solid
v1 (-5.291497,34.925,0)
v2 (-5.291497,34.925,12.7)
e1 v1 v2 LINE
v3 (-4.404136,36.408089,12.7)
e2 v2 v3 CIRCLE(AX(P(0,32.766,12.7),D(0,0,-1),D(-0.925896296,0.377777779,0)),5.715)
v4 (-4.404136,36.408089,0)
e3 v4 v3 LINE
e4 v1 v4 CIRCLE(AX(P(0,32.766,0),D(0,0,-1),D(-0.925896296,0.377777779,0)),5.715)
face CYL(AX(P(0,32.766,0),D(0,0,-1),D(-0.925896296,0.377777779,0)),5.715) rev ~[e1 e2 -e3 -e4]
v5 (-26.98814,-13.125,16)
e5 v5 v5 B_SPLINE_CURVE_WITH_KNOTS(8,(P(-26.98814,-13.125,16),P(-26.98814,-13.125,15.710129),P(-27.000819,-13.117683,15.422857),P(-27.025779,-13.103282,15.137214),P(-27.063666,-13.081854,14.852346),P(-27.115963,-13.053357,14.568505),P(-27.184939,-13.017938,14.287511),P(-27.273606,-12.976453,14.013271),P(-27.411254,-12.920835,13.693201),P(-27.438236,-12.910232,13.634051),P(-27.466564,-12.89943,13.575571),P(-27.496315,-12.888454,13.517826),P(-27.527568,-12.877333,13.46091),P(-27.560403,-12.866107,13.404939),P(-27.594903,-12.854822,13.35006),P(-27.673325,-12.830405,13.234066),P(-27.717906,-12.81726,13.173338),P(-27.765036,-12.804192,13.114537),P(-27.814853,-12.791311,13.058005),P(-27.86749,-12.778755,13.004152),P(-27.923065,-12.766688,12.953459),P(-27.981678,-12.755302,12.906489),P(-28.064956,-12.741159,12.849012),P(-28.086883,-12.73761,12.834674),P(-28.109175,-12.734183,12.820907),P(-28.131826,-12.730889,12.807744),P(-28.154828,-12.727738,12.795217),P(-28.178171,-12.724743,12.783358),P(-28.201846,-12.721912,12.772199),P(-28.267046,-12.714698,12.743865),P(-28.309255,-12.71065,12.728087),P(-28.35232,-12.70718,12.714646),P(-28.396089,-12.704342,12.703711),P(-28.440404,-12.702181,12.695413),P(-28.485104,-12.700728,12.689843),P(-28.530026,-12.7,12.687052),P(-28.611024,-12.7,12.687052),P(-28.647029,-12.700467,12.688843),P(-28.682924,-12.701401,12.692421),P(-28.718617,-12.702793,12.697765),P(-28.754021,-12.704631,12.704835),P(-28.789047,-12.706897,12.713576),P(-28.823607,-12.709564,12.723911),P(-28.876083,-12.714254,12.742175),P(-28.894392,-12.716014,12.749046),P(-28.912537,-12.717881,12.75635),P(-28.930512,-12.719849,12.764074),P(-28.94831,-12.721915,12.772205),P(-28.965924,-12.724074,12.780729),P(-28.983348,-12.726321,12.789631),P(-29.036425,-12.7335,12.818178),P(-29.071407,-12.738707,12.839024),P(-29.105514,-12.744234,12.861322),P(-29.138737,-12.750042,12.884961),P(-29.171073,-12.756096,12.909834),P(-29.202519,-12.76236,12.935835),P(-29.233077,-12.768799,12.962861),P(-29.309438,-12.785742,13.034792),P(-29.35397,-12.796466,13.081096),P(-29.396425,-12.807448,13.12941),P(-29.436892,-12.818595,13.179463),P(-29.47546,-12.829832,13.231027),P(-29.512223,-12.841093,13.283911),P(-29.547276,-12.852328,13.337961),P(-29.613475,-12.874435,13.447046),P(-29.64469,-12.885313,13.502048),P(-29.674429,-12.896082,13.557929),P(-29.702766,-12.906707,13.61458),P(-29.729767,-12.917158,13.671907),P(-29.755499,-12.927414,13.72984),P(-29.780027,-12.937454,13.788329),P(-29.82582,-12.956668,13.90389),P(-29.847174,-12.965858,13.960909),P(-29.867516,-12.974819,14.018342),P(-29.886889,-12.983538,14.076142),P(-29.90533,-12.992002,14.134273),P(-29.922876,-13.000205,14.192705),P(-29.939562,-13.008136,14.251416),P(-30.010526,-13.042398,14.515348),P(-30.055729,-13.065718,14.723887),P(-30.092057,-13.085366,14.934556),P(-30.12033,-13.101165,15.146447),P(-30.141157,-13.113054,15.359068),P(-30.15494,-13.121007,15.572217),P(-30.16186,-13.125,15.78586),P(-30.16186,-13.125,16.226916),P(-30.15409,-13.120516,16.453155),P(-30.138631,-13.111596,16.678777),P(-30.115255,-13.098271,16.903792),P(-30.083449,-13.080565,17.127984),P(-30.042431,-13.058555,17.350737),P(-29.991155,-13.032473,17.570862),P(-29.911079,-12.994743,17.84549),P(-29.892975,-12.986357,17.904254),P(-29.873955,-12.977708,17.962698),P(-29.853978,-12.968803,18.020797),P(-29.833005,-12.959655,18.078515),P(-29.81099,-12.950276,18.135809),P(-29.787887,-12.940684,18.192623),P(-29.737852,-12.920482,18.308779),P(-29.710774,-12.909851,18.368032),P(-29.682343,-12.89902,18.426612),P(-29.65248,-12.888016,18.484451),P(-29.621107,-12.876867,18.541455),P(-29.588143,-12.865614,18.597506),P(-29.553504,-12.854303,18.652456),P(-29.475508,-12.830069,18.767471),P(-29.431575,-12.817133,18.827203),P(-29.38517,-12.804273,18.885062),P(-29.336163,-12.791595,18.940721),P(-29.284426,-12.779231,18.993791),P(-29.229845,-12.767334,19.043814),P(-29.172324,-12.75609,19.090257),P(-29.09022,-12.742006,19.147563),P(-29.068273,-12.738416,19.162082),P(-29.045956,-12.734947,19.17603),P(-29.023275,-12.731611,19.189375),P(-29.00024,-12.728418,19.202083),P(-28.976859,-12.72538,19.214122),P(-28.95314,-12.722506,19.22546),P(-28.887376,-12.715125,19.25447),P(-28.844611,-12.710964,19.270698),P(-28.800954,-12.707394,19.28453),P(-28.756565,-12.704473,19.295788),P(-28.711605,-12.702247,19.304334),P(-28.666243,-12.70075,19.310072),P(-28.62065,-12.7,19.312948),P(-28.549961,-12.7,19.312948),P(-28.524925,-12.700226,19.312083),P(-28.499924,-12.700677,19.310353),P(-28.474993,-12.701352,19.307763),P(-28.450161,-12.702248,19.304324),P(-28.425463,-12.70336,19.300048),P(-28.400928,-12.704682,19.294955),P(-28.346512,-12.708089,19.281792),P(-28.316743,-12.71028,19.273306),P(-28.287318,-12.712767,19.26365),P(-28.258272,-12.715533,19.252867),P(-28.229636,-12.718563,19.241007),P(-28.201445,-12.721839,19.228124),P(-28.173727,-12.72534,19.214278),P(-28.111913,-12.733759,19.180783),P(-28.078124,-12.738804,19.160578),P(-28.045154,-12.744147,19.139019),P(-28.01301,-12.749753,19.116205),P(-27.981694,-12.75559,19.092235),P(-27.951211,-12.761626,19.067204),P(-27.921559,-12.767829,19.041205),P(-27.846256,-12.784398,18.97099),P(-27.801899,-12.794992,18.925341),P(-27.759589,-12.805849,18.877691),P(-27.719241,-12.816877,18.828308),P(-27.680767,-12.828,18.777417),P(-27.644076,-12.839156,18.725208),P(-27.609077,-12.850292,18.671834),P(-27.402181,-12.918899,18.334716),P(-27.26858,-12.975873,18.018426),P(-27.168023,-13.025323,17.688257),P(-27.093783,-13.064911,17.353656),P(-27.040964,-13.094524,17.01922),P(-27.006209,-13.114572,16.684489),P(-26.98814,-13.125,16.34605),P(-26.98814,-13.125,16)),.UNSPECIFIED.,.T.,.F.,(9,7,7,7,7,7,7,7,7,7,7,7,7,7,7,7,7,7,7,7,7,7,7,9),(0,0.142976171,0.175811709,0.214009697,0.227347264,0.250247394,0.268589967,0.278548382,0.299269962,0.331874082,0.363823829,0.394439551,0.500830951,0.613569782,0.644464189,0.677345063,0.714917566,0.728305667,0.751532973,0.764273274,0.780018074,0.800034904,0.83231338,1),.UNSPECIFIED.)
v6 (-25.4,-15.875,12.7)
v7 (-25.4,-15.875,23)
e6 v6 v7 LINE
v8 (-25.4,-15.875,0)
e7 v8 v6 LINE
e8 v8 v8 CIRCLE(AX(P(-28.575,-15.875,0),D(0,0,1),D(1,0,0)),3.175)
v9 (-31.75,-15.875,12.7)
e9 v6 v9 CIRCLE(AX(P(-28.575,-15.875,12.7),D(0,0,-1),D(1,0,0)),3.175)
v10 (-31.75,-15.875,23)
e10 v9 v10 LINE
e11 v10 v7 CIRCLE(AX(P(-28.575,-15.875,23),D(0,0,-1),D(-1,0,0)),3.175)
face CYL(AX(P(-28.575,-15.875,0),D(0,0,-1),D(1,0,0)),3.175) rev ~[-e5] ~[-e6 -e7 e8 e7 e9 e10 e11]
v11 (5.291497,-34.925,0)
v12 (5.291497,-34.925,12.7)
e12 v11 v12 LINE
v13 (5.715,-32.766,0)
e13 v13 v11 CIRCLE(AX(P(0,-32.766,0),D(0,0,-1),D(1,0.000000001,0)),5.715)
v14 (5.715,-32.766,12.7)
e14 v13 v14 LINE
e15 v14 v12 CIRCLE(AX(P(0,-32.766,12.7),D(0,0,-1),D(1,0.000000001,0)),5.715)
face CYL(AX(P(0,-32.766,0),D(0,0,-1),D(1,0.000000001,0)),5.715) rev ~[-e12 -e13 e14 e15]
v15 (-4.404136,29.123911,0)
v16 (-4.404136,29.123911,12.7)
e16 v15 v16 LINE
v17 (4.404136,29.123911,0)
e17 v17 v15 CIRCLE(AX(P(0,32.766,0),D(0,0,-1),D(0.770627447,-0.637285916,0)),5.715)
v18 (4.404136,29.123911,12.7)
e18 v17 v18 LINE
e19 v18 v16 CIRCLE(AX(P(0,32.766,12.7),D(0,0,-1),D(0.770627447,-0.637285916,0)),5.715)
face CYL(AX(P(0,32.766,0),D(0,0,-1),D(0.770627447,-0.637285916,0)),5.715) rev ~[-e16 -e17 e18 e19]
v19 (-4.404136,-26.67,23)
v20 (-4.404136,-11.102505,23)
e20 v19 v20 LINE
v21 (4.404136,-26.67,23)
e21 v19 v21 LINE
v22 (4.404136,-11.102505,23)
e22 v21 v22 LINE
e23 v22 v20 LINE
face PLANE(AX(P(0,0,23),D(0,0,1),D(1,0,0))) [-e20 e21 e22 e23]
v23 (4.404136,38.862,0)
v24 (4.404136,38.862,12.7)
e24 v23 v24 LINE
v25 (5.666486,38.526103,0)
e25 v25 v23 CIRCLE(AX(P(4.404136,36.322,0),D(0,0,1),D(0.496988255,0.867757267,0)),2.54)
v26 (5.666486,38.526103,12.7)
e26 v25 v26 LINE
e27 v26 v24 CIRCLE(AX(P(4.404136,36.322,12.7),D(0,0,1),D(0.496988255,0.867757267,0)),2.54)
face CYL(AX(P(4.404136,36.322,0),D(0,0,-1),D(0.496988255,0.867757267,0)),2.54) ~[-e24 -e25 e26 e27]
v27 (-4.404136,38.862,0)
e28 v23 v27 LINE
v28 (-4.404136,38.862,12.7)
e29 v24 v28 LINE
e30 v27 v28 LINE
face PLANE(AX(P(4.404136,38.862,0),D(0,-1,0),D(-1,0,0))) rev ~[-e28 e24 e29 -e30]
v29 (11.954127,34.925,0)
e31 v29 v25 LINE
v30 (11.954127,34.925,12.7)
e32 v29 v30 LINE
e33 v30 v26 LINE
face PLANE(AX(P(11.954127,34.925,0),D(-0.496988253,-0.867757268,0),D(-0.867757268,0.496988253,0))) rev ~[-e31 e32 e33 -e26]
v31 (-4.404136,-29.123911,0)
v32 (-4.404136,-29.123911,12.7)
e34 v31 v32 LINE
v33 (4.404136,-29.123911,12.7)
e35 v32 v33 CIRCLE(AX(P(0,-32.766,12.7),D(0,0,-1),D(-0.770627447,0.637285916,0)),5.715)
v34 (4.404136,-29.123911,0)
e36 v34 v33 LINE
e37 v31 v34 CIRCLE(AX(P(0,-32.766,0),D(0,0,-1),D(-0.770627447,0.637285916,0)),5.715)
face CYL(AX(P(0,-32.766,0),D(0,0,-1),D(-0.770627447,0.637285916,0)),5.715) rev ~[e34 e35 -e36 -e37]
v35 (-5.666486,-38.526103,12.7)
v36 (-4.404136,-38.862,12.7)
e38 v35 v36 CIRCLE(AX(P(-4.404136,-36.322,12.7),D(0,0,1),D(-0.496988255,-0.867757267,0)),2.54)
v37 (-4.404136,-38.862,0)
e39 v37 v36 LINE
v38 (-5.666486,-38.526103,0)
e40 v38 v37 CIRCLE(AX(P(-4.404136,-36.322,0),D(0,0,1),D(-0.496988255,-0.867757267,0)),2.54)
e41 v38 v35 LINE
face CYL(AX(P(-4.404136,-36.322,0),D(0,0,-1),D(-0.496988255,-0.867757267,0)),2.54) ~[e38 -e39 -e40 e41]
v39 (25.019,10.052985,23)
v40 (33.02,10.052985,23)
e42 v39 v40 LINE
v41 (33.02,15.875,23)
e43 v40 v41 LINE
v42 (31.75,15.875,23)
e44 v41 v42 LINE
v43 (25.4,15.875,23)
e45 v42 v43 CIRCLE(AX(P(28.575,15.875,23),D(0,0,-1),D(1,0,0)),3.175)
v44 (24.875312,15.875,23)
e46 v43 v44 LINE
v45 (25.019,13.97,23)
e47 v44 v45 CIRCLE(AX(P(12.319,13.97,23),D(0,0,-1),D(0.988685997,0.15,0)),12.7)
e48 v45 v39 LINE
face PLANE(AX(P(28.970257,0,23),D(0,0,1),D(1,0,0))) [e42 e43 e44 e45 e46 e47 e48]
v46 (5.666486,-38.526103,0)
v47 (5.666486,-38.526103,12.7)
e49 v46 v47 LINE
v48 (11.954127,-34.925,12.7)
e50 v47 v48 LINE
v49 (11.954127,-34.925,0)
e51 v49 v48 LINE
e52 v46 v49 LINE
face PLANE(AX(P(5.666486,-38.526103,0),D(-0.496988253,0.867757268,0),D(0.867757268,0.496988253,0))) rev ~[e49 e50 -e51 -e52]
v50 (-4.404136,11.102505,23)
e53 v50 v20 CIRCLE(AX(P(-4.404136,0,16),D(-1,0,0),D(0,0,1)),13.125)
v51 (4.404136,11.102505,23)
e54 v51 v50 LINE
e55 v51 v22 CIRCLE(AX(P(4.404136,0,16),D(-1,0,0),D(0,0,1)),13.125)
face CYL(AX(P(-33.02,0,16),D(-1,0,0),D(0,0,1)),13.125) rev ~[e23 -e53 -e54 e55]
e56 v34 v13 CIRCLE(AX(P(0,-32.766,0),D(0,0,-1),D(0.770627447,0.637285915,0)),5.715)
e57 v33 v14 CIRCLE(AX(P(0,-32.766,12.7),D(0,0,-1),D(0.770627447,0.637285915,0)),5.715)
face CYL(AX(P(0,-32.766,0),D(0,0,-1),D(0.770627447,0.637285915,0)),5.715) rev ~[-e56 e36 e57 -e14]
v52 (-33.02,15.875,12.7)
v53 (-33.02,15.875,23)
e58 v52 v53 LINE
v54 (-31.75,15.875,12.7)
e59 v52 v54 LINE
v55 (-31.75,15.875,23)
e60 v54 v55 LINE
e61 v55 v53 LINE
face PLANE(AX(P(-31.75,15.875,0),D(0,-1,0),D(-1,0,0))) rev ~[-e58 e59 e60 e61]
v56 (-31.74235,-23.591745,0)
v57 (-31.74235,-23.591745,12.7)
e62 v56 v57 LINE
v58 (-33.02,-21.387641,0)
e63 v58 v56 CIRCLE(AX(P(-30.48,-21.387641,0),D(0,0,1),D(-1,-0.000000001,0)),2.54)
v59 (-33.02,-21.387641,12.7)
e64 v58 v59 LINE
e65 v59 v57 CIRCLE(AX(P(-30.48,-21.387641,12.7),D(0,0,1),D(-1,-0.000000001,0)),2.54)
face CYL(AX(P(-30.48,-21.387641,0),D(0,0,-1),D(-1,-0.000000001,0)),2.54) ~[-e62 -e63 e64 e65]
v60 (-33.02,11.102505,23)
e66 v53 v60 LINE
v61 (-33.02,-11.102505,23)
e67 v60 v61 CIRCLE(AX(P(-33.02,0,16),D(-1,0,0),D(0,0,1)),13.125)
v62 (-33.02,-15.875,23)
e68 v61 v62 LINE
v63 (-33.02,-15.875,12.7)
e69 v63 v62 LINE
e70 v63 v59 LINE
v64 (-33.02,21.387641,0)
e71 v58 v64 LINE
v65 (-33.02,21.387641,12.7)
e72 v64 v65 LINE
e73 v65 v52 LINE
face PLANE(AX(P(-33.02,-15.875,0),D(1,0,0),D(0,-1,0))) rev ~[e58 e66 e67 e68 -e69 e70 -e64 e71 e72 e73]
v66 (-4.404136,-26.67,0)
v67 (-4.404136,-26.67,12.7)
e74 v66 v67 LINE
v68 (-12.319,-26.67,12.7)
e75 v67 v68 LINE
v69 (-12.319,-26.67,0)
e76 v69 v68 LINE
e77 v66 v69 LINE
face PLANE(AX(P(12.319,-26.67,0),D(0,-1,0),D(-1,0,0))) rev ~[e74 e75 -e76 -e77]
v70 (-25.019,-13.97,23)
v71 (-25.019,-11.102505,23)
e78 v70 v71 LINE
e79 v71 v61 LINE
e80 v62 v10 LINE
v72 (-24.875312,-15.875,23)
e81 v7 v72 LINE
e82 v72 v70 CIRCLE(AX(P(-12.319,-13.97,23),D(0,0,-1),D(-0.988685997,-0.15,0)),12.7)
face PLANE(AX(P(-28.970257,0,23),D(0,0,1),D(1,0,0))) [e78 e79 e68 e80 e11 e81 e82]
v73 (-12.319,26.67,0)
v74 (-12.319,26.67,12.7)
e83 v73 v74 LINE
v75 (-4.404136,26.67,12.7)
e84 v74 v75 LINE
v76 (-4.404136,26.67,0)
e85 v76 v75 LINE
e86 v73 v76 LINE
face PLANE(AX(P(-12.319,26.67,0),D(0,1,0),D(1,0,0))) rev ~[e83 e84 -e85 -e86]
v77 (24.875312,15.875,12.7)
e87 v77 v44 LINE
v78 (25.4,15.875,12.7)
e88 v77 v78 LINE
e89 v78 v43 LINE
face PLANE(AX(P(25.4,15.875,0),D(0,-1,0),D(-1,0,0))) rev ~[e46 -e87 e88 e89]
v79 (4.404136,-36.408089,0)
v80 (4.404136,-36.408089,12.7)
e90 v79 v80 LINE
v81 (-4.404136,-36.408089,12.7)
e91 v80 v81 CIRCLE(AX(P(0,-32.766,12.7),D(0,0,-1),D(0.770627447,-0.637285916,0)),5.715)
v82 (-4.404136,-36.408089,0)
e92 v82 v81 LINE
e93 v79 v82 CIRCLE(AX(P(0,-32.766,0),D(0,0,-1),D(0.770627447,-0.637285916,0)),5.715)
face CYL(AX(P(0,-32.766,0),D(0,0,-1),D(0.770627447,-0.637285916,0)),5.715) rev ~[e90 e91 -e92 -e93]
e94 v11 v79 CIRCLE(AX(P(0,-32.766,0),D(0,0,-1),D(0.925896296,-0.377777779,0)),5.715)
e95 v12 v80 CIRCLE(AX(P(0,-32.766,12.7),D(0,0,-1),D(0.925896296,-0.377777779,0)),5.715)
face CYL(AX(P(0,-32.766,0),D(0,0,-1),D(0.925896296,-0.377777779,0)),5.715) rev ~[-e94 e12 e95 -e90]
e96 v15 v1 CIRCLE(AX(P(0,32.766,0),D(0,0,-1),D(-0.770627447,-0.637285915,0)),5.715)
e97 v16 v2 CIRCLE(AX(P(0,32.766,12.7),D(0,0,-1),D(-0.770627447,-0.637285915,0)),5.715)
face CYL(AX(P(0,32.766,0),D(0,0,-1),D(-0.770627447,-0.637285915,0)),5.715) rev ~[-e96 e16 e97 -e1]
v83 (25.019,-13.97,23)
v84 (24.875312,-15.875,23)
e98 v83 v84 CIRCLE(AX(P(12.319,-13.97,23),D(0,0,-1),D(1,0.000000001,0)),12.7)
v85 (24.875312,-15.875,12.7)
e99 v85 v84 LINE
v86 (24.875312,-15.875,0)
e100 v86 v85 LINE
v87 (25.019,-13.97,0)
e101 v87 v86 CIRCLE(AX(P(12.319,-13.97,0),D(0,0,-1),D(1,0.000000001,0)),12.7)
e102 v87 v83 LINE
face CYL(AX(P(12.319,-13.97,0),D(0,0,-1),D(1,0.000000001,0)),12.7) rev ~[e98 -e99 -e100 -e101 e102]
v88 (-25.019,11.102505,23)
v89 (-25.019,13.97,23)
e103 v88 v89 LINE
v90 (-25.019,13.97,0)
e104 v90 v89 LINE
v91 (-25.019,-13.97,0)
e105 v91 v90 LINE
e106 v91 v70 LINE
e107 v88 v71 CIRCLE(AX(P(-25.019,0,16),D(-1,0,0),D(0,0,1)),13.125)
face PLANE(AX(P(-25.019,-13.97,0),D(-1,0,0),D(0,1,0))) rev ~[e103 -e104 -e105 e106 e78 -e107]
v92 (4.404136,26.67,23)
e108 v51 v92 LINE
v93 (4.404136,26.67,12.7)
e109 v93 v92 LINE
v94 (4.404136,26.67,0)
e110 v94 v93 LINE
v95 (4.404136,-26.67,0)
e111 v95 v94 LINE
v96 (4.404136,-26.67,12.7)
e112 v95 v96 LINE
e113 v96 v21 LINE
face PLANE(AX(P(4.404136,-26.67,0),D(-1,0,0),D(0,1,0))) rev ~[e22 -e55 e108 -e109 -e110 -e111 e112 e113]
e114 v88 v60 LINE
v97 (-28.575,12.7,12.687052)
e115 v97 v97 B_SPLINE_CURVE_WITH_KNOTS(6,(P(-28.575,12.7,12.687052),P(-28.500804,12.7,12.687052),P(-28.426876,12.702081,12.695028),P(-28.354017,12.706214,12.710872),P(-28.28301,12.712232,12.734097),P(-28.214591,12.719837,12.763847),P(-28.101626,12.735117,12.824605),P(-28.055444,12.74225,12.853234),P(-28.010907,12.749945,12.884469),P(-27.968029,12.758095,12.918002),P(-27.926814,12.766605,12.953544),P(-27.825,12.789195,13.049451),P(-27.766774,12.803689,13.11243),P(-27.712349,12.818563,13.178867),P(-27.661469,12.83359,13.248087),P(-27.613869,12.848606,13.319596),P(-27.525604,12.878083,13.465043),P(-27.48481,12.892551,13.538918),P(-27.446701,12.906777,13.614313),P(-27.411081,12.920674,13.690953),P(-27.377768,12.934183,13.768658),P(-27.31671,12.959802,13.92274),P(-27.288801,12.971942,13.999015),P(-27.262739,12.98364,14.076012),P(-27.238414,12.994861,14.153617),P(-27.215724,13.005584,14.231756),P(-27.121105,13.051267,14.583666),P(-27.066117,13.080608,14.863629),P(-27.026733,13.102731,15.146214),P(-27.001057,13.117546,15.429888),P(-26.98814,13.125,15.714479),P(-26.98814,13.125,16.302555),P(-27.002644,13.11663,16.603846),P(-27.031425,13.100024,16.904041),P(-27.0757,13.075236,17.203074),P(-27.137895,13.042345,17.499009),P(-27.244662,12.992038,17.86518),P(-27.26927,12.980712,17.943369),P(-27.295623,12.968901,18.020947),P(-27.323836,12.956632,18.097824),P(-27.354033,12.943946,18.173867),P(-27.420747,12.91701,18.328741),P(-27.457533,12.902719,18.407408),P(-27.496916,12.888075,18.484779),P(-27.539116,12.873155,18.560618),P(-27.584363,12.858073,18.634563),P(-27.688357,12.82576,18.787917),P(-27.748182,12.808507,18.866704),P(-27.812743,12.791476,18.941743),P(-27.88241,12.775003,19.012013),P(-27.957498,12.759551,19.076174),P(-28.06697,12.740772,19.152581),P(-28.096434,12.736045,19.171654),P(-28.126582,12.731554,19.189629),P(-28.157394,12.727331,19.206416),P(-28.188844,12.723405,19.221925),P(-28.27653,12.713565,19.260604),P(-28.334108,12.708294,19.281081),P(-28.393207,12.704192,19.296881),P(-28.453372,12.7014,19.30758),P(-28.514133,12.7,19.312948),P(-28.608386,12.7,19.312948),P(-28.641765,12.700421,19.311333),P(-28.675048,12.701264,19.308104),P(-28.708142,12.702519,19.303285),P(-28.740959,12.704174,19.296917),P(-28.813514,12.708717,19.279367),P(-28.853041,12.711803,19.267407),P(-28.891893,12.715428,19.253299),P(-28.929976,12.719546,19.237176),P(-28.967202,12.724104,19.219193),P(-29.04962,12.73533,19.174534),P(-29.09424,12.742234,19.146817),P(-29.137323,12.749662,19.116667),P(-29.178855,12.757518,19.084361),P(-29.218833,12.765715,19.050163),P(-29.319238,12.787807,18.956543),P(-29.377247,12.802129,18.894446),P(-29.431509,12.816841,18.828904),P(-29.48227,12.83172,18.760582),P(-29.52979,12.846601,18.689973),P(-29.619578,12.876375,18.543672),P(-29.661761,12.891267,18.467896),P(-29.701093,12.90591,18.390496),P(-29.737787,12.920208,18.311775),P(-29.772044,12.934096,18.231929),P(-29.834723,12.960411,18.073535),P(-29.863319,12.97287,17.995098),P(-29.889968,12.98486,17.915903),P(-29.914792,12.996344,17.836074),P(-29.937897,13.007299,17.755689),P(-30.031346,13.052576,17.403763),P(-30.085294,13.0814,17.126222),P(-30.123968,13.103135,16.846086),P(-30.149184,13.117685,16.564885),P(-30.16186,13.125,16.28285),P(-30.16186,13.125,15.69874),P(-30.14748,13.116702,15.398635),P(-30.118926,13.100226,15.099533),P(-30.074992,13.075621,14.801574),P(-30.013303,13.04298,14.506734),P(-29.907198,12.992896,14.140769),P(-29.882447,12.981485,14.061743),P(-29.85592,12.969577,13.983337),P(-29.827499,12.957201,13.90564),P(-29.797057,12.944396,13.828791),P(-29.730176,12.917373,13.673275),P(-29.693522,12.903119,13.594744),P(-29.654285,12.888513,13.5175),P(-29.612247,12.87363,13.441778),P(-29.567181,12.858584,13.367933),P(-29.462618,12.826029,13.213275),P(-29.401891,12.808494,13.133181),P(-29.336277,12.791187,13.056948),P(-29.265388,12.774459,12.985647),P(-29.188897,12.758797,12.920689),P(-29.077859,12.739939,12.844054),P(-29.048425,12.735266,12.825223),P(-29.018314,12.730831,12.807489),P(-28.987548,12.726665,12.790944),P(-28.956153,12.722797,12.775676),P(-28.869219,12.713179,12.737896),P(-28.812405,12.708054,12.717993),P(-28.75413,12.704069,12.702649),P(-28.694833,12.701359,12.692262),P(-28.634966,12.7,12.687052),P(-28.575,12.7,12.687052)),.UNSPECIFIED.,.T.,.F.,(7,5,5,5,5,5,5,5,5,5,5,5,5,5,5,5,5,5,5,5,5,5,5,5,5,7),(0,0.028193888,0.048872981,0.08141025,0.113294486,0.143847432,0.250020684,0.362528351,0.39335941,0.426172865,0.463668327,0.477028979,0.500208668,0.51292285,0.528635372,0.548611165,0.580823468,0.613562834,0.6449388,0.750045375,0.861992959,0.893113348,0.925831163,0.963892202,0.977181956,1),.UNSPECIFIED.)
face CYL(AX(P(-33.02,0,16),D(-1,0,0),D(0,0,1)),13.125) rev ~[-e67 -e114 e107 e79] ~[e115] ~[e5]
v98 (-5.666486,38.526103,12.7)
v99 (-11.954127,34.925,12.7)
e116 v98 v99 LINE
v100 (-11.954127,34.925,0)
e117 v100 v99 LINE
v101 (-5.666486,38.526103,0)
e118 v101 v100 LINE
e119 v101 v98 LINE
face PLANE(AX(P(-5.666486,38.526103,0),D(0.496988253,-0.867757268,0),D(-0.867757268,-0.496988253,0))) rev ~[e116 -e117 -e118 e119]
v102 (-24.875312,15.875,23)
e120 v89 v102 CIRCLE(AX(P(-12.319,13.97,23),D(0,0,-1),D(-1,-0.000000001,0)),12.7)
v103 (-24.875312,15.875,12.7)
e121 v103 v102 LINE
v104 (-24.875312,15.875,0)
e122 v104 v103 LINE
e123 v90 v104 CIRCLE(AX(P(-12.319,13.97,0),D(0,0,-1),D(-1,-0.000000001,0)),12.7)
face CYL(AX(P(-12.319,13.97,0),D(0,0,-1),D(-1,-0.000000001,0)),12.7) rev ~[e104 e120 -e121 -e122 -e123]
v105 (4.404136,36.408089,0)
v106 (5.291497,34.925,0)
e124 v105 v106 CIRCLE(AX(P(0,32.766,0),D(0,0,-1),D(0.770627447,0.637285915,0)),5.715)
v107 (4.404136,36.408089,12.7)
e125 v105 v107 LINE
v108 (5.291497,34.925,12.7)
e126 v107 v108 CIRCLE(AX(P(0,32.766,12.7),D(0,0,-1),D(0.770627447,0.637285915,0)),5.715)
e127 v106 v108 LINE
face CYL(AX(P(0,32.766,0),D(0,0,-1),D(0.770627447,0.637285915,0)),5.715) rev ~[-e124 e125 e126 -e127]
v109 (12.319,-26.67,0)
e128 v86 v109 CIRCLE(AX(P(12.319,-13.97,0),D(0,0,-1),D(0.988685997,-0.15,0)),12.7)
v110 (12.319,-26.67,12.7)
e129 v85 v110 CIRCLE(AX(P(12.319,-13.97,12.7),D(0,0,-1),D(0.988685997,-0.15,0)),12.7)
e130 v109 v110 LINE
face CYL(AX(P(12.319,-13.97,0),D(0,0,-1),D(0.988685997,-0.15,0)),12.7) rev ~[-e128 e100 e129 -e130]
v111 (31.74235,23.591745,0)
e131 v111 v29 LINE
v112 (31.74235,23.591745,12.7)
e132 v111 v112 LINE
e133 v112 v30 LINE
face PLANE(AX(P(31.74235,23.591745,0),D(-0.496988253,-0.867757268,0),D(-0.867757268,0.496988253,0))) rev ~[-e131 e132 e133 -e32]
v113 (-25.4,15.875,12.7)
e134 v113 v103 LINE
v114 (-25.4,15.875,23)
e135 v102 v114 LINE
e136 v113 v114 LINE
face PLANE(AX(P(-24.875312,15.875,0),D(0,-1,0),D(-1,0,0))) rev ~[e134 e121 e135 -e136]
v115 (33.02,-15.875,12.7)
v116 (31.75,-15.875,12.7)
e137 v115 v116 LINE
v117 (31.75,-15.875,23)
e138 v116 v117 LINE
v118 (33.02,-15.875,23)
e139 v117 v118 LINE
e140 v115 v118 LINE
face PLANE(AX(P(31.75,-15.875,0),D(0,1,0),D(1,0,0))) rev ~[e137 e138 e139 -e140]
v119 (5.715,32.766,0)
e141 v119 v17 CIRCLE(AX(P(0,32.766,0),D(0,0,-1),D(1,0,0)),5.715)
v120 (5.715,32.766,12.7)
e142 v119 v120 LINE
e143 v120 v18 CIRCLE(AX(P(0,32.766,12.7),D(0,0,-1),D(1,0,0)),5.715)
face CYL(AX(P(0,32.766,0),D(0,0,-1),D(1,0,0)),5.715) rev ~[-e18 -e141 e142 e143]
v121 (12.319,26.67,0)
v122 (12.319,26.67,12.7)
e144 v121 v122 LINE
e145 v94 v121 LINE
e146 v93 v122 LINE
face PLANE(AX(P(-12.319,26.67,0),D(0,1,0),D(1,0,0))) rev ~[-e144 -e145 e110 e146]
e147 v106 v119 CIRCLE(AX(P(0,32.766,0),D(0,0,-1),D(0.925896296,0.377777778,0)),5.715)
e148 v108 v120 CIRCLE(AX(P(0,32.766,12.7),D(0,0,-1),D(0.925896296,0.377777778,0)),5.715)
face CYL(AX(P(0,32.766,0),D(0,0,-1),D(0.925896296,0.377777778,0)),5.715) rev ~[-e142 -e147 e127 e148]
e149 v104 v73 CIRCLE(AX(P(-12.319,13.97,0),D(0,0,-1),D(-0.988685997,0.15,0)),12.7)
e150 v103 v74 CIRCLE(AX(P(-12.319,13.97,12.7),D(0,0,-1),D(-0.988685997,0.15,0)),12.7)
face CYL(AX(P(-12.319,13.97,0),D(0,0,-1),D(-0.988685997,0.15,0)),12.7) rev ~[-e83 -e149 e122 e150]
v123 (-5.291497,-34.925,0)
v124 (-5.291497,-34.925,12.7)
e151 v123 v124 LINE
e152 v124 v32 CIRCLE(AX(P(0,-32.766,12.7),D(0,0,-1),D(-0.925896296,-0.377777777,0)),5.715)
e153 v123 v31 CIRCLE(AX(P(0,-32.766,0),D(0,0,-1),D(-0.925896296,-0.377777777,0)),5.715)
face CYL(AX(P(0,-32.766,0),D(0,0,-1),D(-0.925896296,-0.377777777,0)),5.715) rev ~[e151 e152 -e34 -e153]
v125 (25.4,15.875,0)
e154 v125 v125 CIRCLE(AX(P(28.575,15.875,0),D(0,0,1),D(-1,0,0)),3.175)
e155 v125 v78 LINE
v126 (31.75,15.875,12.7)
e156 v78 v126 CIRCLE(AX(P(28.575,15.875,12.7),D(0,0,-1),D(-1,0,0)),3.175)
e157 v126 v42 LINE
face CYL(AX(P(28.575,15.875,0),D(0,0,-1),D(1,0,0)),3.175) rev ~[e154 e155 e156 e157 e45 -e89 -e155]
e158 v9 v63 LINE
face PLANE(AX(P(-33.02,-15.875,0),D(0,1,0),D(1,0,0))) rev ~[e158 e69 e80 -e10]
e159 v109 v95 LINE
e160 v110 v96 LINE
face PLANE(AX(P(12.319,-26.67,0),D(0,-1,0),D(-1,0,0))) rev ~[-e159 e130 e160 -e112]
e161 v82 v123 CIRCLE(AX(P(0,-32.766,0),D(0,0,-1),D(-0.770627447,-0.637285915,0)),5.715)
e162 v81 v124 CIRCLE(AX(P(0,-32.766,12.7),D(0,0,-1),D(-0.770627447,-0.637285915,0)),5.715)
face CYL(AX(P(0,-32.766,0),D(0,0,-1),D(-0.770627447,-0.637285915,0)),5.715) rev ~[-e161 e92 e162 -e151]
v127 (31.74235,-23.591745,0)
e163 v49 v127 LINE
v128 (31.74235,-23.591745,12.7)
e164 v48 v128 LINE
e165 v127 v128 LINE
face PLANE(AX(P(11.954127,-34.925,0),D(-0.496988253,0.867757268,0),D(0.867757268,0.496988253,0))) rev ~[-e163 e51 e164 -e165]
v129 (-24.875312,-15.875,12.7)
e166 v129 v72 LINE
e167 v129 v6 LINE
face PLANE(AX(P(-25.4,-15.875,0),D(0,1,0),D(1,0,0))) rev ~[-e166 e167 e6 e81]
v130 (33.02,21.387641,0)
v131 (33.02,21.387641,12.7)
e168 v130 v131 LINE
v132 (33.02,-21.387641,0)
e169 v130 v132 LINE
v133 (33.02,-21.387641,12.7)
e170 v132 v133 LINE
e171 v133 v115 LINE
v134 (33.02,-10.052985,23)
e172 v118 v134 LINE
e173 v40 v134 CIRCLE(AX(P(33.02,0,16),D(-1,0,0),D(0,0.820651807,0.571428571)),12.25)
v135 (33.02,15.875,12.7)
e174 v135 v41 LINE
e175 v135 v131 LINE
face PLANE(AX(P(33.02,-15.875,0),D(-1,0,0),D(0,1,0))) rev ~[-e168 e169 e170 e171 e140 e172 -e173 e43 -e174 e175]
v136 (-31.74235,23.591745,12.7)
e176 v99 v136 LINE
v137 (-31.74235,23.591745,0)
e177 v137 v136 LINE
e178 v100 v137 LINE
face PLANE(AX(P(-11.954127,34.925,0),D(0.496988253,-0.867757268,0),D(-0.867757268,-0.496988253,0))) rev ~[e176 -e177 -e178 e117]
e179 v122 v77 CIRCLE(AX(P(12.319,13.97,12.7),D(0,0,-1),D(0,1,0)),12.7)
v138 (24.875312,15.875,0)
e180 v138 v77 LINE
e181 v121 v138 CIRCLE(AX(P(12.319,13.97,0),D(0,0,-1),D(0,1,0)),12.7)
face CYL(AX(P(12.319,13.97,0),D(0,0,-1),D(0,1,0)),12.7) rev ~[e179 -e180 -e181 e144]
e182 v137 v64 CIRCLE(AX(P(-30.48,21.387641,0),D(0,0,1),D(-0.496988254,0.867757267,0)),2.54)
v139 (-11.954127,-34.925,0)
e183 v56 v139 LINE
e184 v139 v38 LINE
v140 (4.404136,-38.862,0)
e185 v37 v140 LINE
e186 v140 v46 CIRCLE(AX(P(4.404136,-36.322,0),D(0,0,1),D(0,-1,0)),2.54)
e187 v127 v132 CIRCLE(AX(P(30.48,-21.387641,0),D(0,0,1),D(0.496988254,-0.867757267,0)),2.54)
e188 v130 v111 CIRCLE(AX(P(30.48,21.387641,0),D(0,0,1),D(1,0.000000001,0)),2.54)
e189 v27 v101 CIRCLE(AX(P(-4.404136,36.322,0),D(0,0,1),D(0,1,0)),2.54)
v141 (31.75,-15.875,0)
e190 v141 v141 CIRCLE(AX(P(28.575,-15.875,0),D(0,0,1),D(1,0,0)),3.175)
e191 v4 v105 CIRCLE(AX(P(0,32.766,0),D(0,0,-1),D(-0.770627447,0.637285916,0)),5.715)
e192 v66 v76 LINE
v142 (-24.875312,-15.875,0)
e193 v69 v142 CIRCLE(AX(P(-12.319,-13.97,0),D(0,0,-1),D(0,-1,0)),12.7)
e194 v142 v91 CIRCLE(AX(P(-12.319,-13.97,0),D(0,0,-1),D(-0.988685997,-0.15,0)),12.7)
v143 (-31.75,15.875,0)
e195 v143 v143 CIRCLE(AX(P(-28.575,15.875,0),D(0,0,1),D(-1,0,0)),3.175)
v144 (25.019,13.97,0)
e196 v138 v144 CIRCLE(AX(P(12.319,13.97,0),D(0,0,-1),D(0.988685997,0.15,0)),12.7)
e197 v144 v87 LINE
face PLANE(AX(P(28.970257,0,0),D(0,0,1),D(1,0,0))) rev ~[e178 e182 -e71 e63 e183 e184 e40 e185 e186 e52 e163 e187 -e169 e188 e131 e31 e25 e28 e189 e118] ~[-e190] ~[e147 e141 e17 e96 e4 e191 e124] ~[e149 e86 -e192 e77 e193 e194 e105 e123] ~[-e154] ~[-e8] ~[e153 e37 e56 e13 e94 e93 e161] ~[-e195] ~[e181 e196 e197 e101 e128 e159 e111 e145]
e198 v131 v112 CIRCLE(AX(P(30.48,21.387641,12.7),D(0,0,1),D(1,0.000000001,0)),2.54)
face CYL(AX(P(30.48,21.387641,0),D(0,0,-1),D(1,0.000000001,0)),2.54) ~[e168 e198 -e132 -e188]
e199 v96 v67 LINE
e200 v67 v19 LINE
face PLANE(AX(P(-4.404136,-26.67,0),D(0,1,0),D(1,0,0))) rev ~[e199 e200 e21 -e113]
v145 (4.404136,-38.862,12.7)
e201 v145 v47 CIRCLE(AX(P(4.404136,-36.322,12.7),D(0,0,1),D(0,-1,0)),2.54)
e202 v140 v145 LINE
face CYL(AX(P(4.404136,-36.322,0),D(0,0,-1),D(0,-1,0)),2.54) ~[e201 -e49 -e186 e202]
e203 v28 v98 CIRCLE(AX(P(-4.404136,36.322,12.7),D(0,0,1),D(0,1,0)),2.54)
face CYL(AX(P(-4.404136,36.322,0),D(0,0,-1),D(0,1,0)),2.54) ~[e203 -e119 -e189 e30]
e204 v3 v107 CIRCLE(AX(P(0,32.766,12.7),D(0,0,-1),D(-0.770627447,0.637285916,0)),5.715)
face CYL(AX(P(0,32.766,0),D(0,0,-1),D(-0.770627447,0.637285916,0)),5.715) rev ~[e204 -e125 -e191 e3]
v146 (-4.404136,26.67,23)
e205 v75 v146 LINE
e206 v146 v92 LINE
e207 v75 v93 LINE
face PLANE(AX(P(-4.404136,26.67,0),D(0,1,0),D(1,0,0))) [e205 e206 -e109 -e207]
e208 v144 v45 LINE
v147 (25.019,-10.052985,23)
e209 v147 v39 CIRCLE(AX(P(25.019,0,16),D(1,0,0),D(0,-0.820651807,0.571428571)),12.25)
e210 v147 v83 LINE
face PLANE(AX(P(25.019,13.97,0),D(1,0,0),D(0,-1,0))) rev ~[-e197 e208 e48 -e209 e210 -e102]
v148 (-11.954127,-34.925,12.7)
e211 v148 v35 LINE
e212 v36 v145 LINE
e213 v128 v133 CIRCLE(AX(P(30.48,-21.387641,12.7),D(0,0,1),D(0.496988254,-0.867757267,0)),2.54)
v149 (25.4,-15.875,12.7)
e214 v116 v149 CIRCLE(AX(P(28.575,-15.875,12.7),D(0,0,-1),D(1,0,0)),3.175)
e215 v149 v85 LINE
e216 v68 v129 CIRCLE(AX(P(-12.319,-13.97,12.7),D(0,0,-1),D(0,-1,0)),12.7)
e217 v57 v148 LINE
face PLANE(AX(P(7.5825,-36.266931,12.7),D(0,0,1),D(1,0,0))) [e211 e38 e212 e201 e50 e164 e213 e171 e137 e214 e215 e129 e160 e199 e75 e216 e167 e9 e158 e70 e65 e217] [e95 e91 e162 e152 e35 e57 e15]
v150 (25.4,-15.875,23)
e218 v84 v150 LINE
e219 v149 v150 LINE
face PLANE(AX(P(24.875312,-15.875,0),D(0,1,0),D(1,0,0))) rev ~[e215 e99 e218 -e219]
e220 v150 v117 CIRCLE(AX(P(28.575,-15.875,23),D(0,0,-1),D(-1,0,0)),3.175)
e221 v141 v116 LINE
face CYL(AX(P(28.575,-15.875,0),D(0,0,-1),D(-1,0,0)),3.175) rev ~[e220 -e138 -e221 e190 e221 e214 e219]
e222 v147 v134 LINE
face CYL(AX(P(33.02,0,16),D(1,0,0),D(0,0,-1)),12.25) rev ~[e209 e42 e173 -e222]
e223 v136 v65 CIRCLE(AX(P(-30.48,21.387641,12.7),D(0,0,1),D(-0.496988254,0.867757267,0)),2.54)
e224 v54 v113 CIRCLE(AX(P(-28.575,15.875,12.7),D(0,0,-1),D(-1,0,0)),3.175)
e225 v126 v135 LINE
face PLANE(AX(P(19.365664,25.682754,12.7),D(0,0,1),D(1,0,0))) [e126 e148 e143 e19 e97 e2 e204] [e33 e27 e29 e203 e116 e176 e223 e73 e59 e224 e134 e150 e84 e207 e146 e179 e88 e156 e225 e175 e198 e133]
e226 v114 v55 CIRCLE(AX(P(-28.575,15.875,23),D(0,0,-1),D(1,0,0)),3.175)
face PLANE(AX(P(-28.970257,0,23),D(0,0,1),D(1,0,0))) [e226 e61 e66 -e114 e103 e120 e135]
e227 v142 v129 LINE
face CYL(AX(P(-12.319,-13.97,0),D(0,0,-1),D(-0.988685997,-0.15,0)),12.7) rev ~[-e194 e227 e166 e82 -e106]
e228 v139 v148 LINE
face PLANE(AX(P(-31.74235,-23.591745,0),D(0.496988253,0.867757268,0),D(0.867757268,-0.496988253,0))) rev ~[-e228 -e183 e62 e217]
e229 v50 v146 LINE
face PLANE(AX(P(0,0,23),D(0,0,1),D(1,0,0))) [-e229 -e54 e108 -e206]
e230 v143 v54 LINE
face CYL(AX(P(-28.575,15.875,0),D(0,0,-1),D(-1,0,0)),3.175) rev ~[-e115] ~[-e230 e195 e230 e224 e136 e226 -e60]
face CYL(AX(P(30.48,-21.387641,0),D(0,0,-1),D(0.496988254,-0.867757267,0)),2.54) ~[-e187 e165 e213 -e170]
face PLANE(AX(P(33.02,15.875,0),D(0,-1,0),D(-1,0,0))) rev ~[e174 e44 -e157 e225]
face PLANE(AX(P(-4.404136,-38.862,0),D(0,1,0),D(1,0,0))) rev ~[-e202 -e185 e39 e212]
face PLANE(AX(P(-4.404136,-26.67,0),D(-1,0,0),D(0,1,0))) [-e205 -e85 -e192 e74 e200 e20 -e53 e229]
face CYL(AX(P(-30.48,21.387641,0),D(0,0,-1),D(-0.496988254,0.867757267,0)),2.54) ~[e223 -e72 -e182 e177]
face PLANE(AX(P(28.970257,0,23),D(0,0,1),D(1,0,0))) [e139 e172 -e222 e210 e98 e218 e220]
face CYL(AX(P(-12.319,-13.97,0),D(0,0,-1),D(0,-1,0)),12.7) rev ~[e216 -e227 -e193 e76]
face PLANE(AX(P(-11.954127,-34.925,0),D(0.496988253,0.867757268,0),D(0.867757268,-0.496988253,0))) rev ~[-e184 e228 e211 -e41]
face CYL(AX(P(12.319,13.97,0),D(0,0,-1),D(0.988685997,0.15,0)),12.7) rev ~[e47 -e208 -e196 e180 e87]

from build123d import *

# Parameters (mm, degrees)
BOSS_EXTRUDE1_DEPTH = 12.7
SKETCH1_4_W         = 8.808271716
SKETCH1_4_H         = 53.34
BOSS_EXTRUDE3_DEPTH = 23
CUT_EXTRUDE3_REACH  = 82.003
SKETCH9_R           = 13.125
CUT_EXTRUDE4_REACH  = 82.003
SKETCH8_R           = 12.25


with BuildPart() as part:
    # Sketch1 → Boss-Extrude1 (new body)
    with BuildSketch(Plane.XY):
        with BuildLine():
            Line((4.404135858, -36.408089009), (4.404135858, -38.862))
            ThreePointArc((4.404135858, -38.862), (5.057273366, -38.776589863), (5.666486021, -38.52610346))
            Line((5.666486021, -38.52610346), (11.954126984, -34.925))
            Line((11.954126984, -34.925), (5.291497331, -34.925))
            ThreePointArc((5.291497331, -34.925), (4.904203705, -35.700282028), (4.404135858, -36.408089009))
        make_face()
        with BuildLine():
            Line((-4.404135858, -36.408089009), (-4.404135858, -38.862))
            Line((-4.404135858, -38.862), (4.404135858, -38.862))
            Line((4.404135858, -38.862), (4.404135858, -36.408089009))
            ThreePointArc((4.404135858, -36.408089009), (0, -38.481), (-4.404135858, -36.408089009))
        make_face()
        with BuildLine():
            Line((4.404135858, -26.67), (4.404135858, -29.123910991))
            ThreePointArc((4.404135858, -29.123910991), (5.377307013, -30.830594542), (5.715, -32.766))
            ThreePointArc((5.715, -32.766), (5.60812501, -33.866072215), (5.291497331, -34.925))
            Line((5.291497331, -34.925), (11.954126984, -34.925))
            Line((11.954126984, -34.925), (31.742350164, -23.591744906))
            ThreePointArc((31.742350164, -23.591744906), (32.677495098, -22.661460621), (33.02, -21.387641446))
            Line((33.02, -21.387641446), (33.02, -15.875))
            Line((33.02, -15.875), (31.75, -15.875))
            ThreePointArc((31.75, -15.875), (28.575, -19.05), (25.4, -15.875))
            Line((25.4, -15.875), (24.875312158, -15.875))
            ThreePointArc((24.875312158, -15.875), (20.598387055, -23.600251814), (12.319, -26.67))
            Line((12.319, -26.67), (4.404135858, -26.67))
        make_face()
        with BuildLine():
            Line((-33.02, -15.875), (-33.02, -21.387641446))
            ThreePointArc((-33.02, -21.387641446), (-32.677495098, -22.661460621), (-31.742350164, -23.591744906))
            Line((-31.742350164, -23.591744906), (-11.954126984, -34.925))
            Line((-11.954126984, -34.925), (-5.291497331, -34.925))
            ThreePointArc((-5.291497331, -34.925), (-5.649290588, -31.901858317), (-4.404135858, -29.123910991))
            Line((-4.404135858, -29.123910991), (-4.404135858, -26.67))
            Line((-4.404135858, -26.67), (-12.319, -26.67))
            ThreePointArc((-12.319, -26.67), (-20.598387055, -23.600251814), (-24.875312158, -15.875))
            Line((-24.875312158, -15.875), (-25.4, -15.875))
            ThreePointArc((-25.4, -15.875), (-28.575, -19.05), (-31.75, -15.875))
            Line((-31.75, -15.875), (-33.02, -15.875))
        make_face()
        with BuildLine():
            Line((-5.291497331, -34.925), (-11.954126984, -34.925))
            Line((-11.954126984, -34.925), (-5.666486021, -38.52610346))
            ThreePointArc((-5.666486021, -38.52610346), (-5.057273366, -38.776589863), (-4.404135858, -38.862))
            Line((-4.404135858, -38.862), (-4.404135858, -36.408089009))
            ThreePointArc((-4.404135858, -36.408089009), (-4.904203705, -35.700282028), (-5.291497331, -34.925))
        make_face()
        with BuildLine():
            Line((-4.404135858, -26.67), (-4.404135858, -29.123910991))
            ThreePointArc((-4.404135858, -29.123910991), (0, -27.051), (4.404135858, -29.123910991))
            Line((4.404135858, -29.123910991), (4.404135858, -26.67))
            Line((4.404135858, -26.67), (-4.404135858, -26.67))
        make_face()
        with BuildLine():
            Line((4.404135858, 29.123910991), (4.404135858, 26.67))
            Line((4.404135858, 26.67), (12.319, 26.67))
            ThreePointArc((12.319, 26.67), (20.598387055, 23.600251814), (24.875312158, 15.875))
            Line((24.875312158, 15.875), (25.4, 15.875))
            ThreePointArc((25.4, 15.875), (28.575, 19.05), (31.75, 15.875))
            Line((31.75, 15.875), (33.02, 15.875))
            Line((33.02, 15.875), (33.02, 21.387641446))
            ThreePointArc((33.02, 21.387641446), (32.677495098, 22.661460621), (31.742350164, 23.591744906))
            Line((31.742350164, 23.591744906), (11.954126984, 34.925))
            Line((11.954126984, 34.925), (5.291497331, 34.925))
            ThreePointArc((5.291497331, 34.925), (5.60812501, 33.866072215), (5.715, 32.766))
            ThreePointArc((5.715, 32.766), (5.377307013, 30.830594542), (4.404135858, 29.123910991))
        make_face()
        with BuildLine():
            ThreePointArc((5.666486021, 38.52610346), (5.057273366, 38.776589863), (4.404135858, 38.862))
            Line((4.404135858, 38.862), (4.404135858, 36.408089009))
            ThreePointArc((4.404135858, 36.408089009), (4.904203705, 35.700282028), (5.291497331, 34.925))
            Line((5.291497331, 34.925), (11.954126984, 34.925))
            Line((11.954126984, 34.925), (5.666486021, 38.52610346))
        make_face()
        with BuildLine():
            Line((4.404135858, 38.862), (-4.404135858, 38.862))
            Line((-4.404135858, 38.862), (-4.404135858, 36.408089009))
            ThreePointArc((-4.404135858, 36.408089009), (0, 38.481), (4.404135858, 36.408089009))
            Line((4.404135858, 36.408089009), (4.404135858, 38.862))
        make_face()
        with BuildLine():
            Line((-33.02, 21.387641446), (-33.02, 15.875))
            Line((-33.02, 15.875), (-31.75, 15.875))
            ThreePointArc((-31.75, 15.875), (-28.575, 19.05), (-25.4, 15.875))
            Line((-25.4, 15.875), (-24.875312158, 15.875))
            ThreePointArc((-24.875312158, 15.875), (-20.598387055, 23.600251814), (-12.319, 26.67))
            Line((-12.319, 26.67), (-4.404135858, 26.67))
            Line((-4.404135858, 26.67), (-4.404135858, 29.123910991))
            ThreePointArc((-4.404135858, 29.123910991), (-5.649290588, 31.901858317), (-5.291497331, 34.925))
            Line((-5.291497331, 34.925), (-11.954126984, 34.925))
            Line((-11.954126984, 34.925), (-31.742350164, 23.591744906))
            ThreePointArc((-31.742350164, 23.591744906), (-32.677495098, 22.661460621), (-33.02, 21.387641446))
        make_face()
        with BuildLine():
            Line((-5.666486021, 38.52610346), (-11.954126984, 34.925))
            Line((-11.954126984, 34.925), (-5.291497331, 34.925))
            ThreePointArc((-5.291497331, 34.925), (-4.904203705, 35.700282028), (-4.404135858, 36.408089009))
            Line((-4.404135858, 36.408089009), (-4.404135858, 38.862))
            ThreePointArc((-4.404135858, 38.862), (-5.057273366, 38.776589863), (-5.666486021, 38.52610346))
        make_face()
        with BuildLine():
            Line((-4.404135858, 29.123910991), (-4.404135858, 26.67))
            Line((-4.404135858, 26.67), (4.404135858, 26.67))
            Line((4.404135858, 26.67), (4.404135858, 29.123910991))
            ThreePointArc((4.404135858, 29.123910991), (0, 27.051), (-4.404135858, 29.123910991))
        make_face()
    extrude(amount=BOSS_EXTRUDE1_DEPTH)

    # Sketch1<4> → Boss-Extrude3 (add)
    with BuildSketch(Plane.XY):
        with BuildLine():
            ThreePointArc((25.019, -13.97), (24.983027093, -14.925205632), (24.875312158, -15.875))
            Line((24.875312158, -15.875), (25.4, -15.875))
            ThreePointArc((25.4, -15.875), (28.575, -12.7), (31.75, -15.875))
            Line((31.75, -15.875), (33.02, -15.875))
            Line((33.02, -15.875), (33.02, 15.875))
            Line((33.02, 15.875), (31.75, 15.875))
            ThreePointArc((31.75, 15.875), (28.575, 12.7), (25.4, 15.875))
            Line((25.4, 15.875), (24.875312158, 15.875))
            ThreePointArc((24.875312158, 15.875), (24.983027093, 14.925205632), (25.019, 13.97))
            Line((25.019, 13.97), (25.019, -13.97))
        make_face()
        with BuildLine():
            Line((-33.02, 15.875), (-33.02, -15.875))
            Line((-33.02, -15.875), (-31.75, -15.875))
            ThreePointArc((-31.75, -15.875), (-28.575, -12.7), (-25.4, -15.875))
            Line((-25.4, -15.875), (-24.875312158, -15.875))
            ThreePointArc((-24.875312158, -15.875), (-24.983027093, -14.925205632), (-25.019, -13.97))
            Line((-25.019, -13.97), (-25.019, 13.97))
            ThreePointArc((-25.019, 13.97), (-24.983027093, 14.925205632), (-24.875312158, 15.875))
            Line((-24.875312158, 15.875), (-25.4, 15.875))
            ThreePointArc((-25.4, 15.875), (-28.575, 12.7), (-31.75, 15.875))
            Line((-31.75, 15.875), (-33.02, 15.875))
        make_face()
        Rectangle(SKETCH1_4_W, SKETCH1_4_H)
    extrude(amount=BOSS_EXTRUDE3_DEPTH)

    # Cut-Extrude3: up to this face of the body (flat: up to its plane)
    cut_extrude3_end = Plane(part.part.faces().sort_by_distance((4.404135858, 0, 11.5))[0])
    # Sketch9 → Cut-Extrude3 (cut, up to the picked face)
    with BuildSketch(Plane.ZY.offset(33.02), mode=Mode.PRIVATE) as cut_extrude3_sk1:
        with Locations((16, 0)):
            Circle(SKETCH9_R)
    cut_extrude3_tool1 = split(extrude(cut_extrude3_sk1.sketch, amount=-CUT_EXTRUDE3_REACH, mode=Mode.PRIVATE), bisect_by=cut_extrude3_end, keep=Keep.BOTH, mode=Mode.PRIVATE)
    add(cut_extrude3_tool1.solids().sort_by(Axis((-33.02, 0, 16), (1, 0, 0)))[0], mode=Mode.SUBTRACT)

    # Sketch8 → Cut-Extrude4 (cut, up to next)
    with BuildSketch(Plane(origin=(33.02, 0, 0), x_dir=(0, 0, -1), z_dir=(1, 0, 0)), mode=Mode.PRIVATE) as cut_extrude4_sk1:
        with Locations((-16, 0)):
            Circle(SKETCH8_R)
    cut_extrude4_tool1 = extrude(cut_extrude4_sk1.sketch, amount=-CUT_EXTRUDE4_REACH, mode=Mode.PRIVATE) & part.part
    add(cut_extrude4_tool1.solids().sort_by_distance((33.02, 0, 16))[0], mode=Mode.SUBTRACT)


solid = part.part
